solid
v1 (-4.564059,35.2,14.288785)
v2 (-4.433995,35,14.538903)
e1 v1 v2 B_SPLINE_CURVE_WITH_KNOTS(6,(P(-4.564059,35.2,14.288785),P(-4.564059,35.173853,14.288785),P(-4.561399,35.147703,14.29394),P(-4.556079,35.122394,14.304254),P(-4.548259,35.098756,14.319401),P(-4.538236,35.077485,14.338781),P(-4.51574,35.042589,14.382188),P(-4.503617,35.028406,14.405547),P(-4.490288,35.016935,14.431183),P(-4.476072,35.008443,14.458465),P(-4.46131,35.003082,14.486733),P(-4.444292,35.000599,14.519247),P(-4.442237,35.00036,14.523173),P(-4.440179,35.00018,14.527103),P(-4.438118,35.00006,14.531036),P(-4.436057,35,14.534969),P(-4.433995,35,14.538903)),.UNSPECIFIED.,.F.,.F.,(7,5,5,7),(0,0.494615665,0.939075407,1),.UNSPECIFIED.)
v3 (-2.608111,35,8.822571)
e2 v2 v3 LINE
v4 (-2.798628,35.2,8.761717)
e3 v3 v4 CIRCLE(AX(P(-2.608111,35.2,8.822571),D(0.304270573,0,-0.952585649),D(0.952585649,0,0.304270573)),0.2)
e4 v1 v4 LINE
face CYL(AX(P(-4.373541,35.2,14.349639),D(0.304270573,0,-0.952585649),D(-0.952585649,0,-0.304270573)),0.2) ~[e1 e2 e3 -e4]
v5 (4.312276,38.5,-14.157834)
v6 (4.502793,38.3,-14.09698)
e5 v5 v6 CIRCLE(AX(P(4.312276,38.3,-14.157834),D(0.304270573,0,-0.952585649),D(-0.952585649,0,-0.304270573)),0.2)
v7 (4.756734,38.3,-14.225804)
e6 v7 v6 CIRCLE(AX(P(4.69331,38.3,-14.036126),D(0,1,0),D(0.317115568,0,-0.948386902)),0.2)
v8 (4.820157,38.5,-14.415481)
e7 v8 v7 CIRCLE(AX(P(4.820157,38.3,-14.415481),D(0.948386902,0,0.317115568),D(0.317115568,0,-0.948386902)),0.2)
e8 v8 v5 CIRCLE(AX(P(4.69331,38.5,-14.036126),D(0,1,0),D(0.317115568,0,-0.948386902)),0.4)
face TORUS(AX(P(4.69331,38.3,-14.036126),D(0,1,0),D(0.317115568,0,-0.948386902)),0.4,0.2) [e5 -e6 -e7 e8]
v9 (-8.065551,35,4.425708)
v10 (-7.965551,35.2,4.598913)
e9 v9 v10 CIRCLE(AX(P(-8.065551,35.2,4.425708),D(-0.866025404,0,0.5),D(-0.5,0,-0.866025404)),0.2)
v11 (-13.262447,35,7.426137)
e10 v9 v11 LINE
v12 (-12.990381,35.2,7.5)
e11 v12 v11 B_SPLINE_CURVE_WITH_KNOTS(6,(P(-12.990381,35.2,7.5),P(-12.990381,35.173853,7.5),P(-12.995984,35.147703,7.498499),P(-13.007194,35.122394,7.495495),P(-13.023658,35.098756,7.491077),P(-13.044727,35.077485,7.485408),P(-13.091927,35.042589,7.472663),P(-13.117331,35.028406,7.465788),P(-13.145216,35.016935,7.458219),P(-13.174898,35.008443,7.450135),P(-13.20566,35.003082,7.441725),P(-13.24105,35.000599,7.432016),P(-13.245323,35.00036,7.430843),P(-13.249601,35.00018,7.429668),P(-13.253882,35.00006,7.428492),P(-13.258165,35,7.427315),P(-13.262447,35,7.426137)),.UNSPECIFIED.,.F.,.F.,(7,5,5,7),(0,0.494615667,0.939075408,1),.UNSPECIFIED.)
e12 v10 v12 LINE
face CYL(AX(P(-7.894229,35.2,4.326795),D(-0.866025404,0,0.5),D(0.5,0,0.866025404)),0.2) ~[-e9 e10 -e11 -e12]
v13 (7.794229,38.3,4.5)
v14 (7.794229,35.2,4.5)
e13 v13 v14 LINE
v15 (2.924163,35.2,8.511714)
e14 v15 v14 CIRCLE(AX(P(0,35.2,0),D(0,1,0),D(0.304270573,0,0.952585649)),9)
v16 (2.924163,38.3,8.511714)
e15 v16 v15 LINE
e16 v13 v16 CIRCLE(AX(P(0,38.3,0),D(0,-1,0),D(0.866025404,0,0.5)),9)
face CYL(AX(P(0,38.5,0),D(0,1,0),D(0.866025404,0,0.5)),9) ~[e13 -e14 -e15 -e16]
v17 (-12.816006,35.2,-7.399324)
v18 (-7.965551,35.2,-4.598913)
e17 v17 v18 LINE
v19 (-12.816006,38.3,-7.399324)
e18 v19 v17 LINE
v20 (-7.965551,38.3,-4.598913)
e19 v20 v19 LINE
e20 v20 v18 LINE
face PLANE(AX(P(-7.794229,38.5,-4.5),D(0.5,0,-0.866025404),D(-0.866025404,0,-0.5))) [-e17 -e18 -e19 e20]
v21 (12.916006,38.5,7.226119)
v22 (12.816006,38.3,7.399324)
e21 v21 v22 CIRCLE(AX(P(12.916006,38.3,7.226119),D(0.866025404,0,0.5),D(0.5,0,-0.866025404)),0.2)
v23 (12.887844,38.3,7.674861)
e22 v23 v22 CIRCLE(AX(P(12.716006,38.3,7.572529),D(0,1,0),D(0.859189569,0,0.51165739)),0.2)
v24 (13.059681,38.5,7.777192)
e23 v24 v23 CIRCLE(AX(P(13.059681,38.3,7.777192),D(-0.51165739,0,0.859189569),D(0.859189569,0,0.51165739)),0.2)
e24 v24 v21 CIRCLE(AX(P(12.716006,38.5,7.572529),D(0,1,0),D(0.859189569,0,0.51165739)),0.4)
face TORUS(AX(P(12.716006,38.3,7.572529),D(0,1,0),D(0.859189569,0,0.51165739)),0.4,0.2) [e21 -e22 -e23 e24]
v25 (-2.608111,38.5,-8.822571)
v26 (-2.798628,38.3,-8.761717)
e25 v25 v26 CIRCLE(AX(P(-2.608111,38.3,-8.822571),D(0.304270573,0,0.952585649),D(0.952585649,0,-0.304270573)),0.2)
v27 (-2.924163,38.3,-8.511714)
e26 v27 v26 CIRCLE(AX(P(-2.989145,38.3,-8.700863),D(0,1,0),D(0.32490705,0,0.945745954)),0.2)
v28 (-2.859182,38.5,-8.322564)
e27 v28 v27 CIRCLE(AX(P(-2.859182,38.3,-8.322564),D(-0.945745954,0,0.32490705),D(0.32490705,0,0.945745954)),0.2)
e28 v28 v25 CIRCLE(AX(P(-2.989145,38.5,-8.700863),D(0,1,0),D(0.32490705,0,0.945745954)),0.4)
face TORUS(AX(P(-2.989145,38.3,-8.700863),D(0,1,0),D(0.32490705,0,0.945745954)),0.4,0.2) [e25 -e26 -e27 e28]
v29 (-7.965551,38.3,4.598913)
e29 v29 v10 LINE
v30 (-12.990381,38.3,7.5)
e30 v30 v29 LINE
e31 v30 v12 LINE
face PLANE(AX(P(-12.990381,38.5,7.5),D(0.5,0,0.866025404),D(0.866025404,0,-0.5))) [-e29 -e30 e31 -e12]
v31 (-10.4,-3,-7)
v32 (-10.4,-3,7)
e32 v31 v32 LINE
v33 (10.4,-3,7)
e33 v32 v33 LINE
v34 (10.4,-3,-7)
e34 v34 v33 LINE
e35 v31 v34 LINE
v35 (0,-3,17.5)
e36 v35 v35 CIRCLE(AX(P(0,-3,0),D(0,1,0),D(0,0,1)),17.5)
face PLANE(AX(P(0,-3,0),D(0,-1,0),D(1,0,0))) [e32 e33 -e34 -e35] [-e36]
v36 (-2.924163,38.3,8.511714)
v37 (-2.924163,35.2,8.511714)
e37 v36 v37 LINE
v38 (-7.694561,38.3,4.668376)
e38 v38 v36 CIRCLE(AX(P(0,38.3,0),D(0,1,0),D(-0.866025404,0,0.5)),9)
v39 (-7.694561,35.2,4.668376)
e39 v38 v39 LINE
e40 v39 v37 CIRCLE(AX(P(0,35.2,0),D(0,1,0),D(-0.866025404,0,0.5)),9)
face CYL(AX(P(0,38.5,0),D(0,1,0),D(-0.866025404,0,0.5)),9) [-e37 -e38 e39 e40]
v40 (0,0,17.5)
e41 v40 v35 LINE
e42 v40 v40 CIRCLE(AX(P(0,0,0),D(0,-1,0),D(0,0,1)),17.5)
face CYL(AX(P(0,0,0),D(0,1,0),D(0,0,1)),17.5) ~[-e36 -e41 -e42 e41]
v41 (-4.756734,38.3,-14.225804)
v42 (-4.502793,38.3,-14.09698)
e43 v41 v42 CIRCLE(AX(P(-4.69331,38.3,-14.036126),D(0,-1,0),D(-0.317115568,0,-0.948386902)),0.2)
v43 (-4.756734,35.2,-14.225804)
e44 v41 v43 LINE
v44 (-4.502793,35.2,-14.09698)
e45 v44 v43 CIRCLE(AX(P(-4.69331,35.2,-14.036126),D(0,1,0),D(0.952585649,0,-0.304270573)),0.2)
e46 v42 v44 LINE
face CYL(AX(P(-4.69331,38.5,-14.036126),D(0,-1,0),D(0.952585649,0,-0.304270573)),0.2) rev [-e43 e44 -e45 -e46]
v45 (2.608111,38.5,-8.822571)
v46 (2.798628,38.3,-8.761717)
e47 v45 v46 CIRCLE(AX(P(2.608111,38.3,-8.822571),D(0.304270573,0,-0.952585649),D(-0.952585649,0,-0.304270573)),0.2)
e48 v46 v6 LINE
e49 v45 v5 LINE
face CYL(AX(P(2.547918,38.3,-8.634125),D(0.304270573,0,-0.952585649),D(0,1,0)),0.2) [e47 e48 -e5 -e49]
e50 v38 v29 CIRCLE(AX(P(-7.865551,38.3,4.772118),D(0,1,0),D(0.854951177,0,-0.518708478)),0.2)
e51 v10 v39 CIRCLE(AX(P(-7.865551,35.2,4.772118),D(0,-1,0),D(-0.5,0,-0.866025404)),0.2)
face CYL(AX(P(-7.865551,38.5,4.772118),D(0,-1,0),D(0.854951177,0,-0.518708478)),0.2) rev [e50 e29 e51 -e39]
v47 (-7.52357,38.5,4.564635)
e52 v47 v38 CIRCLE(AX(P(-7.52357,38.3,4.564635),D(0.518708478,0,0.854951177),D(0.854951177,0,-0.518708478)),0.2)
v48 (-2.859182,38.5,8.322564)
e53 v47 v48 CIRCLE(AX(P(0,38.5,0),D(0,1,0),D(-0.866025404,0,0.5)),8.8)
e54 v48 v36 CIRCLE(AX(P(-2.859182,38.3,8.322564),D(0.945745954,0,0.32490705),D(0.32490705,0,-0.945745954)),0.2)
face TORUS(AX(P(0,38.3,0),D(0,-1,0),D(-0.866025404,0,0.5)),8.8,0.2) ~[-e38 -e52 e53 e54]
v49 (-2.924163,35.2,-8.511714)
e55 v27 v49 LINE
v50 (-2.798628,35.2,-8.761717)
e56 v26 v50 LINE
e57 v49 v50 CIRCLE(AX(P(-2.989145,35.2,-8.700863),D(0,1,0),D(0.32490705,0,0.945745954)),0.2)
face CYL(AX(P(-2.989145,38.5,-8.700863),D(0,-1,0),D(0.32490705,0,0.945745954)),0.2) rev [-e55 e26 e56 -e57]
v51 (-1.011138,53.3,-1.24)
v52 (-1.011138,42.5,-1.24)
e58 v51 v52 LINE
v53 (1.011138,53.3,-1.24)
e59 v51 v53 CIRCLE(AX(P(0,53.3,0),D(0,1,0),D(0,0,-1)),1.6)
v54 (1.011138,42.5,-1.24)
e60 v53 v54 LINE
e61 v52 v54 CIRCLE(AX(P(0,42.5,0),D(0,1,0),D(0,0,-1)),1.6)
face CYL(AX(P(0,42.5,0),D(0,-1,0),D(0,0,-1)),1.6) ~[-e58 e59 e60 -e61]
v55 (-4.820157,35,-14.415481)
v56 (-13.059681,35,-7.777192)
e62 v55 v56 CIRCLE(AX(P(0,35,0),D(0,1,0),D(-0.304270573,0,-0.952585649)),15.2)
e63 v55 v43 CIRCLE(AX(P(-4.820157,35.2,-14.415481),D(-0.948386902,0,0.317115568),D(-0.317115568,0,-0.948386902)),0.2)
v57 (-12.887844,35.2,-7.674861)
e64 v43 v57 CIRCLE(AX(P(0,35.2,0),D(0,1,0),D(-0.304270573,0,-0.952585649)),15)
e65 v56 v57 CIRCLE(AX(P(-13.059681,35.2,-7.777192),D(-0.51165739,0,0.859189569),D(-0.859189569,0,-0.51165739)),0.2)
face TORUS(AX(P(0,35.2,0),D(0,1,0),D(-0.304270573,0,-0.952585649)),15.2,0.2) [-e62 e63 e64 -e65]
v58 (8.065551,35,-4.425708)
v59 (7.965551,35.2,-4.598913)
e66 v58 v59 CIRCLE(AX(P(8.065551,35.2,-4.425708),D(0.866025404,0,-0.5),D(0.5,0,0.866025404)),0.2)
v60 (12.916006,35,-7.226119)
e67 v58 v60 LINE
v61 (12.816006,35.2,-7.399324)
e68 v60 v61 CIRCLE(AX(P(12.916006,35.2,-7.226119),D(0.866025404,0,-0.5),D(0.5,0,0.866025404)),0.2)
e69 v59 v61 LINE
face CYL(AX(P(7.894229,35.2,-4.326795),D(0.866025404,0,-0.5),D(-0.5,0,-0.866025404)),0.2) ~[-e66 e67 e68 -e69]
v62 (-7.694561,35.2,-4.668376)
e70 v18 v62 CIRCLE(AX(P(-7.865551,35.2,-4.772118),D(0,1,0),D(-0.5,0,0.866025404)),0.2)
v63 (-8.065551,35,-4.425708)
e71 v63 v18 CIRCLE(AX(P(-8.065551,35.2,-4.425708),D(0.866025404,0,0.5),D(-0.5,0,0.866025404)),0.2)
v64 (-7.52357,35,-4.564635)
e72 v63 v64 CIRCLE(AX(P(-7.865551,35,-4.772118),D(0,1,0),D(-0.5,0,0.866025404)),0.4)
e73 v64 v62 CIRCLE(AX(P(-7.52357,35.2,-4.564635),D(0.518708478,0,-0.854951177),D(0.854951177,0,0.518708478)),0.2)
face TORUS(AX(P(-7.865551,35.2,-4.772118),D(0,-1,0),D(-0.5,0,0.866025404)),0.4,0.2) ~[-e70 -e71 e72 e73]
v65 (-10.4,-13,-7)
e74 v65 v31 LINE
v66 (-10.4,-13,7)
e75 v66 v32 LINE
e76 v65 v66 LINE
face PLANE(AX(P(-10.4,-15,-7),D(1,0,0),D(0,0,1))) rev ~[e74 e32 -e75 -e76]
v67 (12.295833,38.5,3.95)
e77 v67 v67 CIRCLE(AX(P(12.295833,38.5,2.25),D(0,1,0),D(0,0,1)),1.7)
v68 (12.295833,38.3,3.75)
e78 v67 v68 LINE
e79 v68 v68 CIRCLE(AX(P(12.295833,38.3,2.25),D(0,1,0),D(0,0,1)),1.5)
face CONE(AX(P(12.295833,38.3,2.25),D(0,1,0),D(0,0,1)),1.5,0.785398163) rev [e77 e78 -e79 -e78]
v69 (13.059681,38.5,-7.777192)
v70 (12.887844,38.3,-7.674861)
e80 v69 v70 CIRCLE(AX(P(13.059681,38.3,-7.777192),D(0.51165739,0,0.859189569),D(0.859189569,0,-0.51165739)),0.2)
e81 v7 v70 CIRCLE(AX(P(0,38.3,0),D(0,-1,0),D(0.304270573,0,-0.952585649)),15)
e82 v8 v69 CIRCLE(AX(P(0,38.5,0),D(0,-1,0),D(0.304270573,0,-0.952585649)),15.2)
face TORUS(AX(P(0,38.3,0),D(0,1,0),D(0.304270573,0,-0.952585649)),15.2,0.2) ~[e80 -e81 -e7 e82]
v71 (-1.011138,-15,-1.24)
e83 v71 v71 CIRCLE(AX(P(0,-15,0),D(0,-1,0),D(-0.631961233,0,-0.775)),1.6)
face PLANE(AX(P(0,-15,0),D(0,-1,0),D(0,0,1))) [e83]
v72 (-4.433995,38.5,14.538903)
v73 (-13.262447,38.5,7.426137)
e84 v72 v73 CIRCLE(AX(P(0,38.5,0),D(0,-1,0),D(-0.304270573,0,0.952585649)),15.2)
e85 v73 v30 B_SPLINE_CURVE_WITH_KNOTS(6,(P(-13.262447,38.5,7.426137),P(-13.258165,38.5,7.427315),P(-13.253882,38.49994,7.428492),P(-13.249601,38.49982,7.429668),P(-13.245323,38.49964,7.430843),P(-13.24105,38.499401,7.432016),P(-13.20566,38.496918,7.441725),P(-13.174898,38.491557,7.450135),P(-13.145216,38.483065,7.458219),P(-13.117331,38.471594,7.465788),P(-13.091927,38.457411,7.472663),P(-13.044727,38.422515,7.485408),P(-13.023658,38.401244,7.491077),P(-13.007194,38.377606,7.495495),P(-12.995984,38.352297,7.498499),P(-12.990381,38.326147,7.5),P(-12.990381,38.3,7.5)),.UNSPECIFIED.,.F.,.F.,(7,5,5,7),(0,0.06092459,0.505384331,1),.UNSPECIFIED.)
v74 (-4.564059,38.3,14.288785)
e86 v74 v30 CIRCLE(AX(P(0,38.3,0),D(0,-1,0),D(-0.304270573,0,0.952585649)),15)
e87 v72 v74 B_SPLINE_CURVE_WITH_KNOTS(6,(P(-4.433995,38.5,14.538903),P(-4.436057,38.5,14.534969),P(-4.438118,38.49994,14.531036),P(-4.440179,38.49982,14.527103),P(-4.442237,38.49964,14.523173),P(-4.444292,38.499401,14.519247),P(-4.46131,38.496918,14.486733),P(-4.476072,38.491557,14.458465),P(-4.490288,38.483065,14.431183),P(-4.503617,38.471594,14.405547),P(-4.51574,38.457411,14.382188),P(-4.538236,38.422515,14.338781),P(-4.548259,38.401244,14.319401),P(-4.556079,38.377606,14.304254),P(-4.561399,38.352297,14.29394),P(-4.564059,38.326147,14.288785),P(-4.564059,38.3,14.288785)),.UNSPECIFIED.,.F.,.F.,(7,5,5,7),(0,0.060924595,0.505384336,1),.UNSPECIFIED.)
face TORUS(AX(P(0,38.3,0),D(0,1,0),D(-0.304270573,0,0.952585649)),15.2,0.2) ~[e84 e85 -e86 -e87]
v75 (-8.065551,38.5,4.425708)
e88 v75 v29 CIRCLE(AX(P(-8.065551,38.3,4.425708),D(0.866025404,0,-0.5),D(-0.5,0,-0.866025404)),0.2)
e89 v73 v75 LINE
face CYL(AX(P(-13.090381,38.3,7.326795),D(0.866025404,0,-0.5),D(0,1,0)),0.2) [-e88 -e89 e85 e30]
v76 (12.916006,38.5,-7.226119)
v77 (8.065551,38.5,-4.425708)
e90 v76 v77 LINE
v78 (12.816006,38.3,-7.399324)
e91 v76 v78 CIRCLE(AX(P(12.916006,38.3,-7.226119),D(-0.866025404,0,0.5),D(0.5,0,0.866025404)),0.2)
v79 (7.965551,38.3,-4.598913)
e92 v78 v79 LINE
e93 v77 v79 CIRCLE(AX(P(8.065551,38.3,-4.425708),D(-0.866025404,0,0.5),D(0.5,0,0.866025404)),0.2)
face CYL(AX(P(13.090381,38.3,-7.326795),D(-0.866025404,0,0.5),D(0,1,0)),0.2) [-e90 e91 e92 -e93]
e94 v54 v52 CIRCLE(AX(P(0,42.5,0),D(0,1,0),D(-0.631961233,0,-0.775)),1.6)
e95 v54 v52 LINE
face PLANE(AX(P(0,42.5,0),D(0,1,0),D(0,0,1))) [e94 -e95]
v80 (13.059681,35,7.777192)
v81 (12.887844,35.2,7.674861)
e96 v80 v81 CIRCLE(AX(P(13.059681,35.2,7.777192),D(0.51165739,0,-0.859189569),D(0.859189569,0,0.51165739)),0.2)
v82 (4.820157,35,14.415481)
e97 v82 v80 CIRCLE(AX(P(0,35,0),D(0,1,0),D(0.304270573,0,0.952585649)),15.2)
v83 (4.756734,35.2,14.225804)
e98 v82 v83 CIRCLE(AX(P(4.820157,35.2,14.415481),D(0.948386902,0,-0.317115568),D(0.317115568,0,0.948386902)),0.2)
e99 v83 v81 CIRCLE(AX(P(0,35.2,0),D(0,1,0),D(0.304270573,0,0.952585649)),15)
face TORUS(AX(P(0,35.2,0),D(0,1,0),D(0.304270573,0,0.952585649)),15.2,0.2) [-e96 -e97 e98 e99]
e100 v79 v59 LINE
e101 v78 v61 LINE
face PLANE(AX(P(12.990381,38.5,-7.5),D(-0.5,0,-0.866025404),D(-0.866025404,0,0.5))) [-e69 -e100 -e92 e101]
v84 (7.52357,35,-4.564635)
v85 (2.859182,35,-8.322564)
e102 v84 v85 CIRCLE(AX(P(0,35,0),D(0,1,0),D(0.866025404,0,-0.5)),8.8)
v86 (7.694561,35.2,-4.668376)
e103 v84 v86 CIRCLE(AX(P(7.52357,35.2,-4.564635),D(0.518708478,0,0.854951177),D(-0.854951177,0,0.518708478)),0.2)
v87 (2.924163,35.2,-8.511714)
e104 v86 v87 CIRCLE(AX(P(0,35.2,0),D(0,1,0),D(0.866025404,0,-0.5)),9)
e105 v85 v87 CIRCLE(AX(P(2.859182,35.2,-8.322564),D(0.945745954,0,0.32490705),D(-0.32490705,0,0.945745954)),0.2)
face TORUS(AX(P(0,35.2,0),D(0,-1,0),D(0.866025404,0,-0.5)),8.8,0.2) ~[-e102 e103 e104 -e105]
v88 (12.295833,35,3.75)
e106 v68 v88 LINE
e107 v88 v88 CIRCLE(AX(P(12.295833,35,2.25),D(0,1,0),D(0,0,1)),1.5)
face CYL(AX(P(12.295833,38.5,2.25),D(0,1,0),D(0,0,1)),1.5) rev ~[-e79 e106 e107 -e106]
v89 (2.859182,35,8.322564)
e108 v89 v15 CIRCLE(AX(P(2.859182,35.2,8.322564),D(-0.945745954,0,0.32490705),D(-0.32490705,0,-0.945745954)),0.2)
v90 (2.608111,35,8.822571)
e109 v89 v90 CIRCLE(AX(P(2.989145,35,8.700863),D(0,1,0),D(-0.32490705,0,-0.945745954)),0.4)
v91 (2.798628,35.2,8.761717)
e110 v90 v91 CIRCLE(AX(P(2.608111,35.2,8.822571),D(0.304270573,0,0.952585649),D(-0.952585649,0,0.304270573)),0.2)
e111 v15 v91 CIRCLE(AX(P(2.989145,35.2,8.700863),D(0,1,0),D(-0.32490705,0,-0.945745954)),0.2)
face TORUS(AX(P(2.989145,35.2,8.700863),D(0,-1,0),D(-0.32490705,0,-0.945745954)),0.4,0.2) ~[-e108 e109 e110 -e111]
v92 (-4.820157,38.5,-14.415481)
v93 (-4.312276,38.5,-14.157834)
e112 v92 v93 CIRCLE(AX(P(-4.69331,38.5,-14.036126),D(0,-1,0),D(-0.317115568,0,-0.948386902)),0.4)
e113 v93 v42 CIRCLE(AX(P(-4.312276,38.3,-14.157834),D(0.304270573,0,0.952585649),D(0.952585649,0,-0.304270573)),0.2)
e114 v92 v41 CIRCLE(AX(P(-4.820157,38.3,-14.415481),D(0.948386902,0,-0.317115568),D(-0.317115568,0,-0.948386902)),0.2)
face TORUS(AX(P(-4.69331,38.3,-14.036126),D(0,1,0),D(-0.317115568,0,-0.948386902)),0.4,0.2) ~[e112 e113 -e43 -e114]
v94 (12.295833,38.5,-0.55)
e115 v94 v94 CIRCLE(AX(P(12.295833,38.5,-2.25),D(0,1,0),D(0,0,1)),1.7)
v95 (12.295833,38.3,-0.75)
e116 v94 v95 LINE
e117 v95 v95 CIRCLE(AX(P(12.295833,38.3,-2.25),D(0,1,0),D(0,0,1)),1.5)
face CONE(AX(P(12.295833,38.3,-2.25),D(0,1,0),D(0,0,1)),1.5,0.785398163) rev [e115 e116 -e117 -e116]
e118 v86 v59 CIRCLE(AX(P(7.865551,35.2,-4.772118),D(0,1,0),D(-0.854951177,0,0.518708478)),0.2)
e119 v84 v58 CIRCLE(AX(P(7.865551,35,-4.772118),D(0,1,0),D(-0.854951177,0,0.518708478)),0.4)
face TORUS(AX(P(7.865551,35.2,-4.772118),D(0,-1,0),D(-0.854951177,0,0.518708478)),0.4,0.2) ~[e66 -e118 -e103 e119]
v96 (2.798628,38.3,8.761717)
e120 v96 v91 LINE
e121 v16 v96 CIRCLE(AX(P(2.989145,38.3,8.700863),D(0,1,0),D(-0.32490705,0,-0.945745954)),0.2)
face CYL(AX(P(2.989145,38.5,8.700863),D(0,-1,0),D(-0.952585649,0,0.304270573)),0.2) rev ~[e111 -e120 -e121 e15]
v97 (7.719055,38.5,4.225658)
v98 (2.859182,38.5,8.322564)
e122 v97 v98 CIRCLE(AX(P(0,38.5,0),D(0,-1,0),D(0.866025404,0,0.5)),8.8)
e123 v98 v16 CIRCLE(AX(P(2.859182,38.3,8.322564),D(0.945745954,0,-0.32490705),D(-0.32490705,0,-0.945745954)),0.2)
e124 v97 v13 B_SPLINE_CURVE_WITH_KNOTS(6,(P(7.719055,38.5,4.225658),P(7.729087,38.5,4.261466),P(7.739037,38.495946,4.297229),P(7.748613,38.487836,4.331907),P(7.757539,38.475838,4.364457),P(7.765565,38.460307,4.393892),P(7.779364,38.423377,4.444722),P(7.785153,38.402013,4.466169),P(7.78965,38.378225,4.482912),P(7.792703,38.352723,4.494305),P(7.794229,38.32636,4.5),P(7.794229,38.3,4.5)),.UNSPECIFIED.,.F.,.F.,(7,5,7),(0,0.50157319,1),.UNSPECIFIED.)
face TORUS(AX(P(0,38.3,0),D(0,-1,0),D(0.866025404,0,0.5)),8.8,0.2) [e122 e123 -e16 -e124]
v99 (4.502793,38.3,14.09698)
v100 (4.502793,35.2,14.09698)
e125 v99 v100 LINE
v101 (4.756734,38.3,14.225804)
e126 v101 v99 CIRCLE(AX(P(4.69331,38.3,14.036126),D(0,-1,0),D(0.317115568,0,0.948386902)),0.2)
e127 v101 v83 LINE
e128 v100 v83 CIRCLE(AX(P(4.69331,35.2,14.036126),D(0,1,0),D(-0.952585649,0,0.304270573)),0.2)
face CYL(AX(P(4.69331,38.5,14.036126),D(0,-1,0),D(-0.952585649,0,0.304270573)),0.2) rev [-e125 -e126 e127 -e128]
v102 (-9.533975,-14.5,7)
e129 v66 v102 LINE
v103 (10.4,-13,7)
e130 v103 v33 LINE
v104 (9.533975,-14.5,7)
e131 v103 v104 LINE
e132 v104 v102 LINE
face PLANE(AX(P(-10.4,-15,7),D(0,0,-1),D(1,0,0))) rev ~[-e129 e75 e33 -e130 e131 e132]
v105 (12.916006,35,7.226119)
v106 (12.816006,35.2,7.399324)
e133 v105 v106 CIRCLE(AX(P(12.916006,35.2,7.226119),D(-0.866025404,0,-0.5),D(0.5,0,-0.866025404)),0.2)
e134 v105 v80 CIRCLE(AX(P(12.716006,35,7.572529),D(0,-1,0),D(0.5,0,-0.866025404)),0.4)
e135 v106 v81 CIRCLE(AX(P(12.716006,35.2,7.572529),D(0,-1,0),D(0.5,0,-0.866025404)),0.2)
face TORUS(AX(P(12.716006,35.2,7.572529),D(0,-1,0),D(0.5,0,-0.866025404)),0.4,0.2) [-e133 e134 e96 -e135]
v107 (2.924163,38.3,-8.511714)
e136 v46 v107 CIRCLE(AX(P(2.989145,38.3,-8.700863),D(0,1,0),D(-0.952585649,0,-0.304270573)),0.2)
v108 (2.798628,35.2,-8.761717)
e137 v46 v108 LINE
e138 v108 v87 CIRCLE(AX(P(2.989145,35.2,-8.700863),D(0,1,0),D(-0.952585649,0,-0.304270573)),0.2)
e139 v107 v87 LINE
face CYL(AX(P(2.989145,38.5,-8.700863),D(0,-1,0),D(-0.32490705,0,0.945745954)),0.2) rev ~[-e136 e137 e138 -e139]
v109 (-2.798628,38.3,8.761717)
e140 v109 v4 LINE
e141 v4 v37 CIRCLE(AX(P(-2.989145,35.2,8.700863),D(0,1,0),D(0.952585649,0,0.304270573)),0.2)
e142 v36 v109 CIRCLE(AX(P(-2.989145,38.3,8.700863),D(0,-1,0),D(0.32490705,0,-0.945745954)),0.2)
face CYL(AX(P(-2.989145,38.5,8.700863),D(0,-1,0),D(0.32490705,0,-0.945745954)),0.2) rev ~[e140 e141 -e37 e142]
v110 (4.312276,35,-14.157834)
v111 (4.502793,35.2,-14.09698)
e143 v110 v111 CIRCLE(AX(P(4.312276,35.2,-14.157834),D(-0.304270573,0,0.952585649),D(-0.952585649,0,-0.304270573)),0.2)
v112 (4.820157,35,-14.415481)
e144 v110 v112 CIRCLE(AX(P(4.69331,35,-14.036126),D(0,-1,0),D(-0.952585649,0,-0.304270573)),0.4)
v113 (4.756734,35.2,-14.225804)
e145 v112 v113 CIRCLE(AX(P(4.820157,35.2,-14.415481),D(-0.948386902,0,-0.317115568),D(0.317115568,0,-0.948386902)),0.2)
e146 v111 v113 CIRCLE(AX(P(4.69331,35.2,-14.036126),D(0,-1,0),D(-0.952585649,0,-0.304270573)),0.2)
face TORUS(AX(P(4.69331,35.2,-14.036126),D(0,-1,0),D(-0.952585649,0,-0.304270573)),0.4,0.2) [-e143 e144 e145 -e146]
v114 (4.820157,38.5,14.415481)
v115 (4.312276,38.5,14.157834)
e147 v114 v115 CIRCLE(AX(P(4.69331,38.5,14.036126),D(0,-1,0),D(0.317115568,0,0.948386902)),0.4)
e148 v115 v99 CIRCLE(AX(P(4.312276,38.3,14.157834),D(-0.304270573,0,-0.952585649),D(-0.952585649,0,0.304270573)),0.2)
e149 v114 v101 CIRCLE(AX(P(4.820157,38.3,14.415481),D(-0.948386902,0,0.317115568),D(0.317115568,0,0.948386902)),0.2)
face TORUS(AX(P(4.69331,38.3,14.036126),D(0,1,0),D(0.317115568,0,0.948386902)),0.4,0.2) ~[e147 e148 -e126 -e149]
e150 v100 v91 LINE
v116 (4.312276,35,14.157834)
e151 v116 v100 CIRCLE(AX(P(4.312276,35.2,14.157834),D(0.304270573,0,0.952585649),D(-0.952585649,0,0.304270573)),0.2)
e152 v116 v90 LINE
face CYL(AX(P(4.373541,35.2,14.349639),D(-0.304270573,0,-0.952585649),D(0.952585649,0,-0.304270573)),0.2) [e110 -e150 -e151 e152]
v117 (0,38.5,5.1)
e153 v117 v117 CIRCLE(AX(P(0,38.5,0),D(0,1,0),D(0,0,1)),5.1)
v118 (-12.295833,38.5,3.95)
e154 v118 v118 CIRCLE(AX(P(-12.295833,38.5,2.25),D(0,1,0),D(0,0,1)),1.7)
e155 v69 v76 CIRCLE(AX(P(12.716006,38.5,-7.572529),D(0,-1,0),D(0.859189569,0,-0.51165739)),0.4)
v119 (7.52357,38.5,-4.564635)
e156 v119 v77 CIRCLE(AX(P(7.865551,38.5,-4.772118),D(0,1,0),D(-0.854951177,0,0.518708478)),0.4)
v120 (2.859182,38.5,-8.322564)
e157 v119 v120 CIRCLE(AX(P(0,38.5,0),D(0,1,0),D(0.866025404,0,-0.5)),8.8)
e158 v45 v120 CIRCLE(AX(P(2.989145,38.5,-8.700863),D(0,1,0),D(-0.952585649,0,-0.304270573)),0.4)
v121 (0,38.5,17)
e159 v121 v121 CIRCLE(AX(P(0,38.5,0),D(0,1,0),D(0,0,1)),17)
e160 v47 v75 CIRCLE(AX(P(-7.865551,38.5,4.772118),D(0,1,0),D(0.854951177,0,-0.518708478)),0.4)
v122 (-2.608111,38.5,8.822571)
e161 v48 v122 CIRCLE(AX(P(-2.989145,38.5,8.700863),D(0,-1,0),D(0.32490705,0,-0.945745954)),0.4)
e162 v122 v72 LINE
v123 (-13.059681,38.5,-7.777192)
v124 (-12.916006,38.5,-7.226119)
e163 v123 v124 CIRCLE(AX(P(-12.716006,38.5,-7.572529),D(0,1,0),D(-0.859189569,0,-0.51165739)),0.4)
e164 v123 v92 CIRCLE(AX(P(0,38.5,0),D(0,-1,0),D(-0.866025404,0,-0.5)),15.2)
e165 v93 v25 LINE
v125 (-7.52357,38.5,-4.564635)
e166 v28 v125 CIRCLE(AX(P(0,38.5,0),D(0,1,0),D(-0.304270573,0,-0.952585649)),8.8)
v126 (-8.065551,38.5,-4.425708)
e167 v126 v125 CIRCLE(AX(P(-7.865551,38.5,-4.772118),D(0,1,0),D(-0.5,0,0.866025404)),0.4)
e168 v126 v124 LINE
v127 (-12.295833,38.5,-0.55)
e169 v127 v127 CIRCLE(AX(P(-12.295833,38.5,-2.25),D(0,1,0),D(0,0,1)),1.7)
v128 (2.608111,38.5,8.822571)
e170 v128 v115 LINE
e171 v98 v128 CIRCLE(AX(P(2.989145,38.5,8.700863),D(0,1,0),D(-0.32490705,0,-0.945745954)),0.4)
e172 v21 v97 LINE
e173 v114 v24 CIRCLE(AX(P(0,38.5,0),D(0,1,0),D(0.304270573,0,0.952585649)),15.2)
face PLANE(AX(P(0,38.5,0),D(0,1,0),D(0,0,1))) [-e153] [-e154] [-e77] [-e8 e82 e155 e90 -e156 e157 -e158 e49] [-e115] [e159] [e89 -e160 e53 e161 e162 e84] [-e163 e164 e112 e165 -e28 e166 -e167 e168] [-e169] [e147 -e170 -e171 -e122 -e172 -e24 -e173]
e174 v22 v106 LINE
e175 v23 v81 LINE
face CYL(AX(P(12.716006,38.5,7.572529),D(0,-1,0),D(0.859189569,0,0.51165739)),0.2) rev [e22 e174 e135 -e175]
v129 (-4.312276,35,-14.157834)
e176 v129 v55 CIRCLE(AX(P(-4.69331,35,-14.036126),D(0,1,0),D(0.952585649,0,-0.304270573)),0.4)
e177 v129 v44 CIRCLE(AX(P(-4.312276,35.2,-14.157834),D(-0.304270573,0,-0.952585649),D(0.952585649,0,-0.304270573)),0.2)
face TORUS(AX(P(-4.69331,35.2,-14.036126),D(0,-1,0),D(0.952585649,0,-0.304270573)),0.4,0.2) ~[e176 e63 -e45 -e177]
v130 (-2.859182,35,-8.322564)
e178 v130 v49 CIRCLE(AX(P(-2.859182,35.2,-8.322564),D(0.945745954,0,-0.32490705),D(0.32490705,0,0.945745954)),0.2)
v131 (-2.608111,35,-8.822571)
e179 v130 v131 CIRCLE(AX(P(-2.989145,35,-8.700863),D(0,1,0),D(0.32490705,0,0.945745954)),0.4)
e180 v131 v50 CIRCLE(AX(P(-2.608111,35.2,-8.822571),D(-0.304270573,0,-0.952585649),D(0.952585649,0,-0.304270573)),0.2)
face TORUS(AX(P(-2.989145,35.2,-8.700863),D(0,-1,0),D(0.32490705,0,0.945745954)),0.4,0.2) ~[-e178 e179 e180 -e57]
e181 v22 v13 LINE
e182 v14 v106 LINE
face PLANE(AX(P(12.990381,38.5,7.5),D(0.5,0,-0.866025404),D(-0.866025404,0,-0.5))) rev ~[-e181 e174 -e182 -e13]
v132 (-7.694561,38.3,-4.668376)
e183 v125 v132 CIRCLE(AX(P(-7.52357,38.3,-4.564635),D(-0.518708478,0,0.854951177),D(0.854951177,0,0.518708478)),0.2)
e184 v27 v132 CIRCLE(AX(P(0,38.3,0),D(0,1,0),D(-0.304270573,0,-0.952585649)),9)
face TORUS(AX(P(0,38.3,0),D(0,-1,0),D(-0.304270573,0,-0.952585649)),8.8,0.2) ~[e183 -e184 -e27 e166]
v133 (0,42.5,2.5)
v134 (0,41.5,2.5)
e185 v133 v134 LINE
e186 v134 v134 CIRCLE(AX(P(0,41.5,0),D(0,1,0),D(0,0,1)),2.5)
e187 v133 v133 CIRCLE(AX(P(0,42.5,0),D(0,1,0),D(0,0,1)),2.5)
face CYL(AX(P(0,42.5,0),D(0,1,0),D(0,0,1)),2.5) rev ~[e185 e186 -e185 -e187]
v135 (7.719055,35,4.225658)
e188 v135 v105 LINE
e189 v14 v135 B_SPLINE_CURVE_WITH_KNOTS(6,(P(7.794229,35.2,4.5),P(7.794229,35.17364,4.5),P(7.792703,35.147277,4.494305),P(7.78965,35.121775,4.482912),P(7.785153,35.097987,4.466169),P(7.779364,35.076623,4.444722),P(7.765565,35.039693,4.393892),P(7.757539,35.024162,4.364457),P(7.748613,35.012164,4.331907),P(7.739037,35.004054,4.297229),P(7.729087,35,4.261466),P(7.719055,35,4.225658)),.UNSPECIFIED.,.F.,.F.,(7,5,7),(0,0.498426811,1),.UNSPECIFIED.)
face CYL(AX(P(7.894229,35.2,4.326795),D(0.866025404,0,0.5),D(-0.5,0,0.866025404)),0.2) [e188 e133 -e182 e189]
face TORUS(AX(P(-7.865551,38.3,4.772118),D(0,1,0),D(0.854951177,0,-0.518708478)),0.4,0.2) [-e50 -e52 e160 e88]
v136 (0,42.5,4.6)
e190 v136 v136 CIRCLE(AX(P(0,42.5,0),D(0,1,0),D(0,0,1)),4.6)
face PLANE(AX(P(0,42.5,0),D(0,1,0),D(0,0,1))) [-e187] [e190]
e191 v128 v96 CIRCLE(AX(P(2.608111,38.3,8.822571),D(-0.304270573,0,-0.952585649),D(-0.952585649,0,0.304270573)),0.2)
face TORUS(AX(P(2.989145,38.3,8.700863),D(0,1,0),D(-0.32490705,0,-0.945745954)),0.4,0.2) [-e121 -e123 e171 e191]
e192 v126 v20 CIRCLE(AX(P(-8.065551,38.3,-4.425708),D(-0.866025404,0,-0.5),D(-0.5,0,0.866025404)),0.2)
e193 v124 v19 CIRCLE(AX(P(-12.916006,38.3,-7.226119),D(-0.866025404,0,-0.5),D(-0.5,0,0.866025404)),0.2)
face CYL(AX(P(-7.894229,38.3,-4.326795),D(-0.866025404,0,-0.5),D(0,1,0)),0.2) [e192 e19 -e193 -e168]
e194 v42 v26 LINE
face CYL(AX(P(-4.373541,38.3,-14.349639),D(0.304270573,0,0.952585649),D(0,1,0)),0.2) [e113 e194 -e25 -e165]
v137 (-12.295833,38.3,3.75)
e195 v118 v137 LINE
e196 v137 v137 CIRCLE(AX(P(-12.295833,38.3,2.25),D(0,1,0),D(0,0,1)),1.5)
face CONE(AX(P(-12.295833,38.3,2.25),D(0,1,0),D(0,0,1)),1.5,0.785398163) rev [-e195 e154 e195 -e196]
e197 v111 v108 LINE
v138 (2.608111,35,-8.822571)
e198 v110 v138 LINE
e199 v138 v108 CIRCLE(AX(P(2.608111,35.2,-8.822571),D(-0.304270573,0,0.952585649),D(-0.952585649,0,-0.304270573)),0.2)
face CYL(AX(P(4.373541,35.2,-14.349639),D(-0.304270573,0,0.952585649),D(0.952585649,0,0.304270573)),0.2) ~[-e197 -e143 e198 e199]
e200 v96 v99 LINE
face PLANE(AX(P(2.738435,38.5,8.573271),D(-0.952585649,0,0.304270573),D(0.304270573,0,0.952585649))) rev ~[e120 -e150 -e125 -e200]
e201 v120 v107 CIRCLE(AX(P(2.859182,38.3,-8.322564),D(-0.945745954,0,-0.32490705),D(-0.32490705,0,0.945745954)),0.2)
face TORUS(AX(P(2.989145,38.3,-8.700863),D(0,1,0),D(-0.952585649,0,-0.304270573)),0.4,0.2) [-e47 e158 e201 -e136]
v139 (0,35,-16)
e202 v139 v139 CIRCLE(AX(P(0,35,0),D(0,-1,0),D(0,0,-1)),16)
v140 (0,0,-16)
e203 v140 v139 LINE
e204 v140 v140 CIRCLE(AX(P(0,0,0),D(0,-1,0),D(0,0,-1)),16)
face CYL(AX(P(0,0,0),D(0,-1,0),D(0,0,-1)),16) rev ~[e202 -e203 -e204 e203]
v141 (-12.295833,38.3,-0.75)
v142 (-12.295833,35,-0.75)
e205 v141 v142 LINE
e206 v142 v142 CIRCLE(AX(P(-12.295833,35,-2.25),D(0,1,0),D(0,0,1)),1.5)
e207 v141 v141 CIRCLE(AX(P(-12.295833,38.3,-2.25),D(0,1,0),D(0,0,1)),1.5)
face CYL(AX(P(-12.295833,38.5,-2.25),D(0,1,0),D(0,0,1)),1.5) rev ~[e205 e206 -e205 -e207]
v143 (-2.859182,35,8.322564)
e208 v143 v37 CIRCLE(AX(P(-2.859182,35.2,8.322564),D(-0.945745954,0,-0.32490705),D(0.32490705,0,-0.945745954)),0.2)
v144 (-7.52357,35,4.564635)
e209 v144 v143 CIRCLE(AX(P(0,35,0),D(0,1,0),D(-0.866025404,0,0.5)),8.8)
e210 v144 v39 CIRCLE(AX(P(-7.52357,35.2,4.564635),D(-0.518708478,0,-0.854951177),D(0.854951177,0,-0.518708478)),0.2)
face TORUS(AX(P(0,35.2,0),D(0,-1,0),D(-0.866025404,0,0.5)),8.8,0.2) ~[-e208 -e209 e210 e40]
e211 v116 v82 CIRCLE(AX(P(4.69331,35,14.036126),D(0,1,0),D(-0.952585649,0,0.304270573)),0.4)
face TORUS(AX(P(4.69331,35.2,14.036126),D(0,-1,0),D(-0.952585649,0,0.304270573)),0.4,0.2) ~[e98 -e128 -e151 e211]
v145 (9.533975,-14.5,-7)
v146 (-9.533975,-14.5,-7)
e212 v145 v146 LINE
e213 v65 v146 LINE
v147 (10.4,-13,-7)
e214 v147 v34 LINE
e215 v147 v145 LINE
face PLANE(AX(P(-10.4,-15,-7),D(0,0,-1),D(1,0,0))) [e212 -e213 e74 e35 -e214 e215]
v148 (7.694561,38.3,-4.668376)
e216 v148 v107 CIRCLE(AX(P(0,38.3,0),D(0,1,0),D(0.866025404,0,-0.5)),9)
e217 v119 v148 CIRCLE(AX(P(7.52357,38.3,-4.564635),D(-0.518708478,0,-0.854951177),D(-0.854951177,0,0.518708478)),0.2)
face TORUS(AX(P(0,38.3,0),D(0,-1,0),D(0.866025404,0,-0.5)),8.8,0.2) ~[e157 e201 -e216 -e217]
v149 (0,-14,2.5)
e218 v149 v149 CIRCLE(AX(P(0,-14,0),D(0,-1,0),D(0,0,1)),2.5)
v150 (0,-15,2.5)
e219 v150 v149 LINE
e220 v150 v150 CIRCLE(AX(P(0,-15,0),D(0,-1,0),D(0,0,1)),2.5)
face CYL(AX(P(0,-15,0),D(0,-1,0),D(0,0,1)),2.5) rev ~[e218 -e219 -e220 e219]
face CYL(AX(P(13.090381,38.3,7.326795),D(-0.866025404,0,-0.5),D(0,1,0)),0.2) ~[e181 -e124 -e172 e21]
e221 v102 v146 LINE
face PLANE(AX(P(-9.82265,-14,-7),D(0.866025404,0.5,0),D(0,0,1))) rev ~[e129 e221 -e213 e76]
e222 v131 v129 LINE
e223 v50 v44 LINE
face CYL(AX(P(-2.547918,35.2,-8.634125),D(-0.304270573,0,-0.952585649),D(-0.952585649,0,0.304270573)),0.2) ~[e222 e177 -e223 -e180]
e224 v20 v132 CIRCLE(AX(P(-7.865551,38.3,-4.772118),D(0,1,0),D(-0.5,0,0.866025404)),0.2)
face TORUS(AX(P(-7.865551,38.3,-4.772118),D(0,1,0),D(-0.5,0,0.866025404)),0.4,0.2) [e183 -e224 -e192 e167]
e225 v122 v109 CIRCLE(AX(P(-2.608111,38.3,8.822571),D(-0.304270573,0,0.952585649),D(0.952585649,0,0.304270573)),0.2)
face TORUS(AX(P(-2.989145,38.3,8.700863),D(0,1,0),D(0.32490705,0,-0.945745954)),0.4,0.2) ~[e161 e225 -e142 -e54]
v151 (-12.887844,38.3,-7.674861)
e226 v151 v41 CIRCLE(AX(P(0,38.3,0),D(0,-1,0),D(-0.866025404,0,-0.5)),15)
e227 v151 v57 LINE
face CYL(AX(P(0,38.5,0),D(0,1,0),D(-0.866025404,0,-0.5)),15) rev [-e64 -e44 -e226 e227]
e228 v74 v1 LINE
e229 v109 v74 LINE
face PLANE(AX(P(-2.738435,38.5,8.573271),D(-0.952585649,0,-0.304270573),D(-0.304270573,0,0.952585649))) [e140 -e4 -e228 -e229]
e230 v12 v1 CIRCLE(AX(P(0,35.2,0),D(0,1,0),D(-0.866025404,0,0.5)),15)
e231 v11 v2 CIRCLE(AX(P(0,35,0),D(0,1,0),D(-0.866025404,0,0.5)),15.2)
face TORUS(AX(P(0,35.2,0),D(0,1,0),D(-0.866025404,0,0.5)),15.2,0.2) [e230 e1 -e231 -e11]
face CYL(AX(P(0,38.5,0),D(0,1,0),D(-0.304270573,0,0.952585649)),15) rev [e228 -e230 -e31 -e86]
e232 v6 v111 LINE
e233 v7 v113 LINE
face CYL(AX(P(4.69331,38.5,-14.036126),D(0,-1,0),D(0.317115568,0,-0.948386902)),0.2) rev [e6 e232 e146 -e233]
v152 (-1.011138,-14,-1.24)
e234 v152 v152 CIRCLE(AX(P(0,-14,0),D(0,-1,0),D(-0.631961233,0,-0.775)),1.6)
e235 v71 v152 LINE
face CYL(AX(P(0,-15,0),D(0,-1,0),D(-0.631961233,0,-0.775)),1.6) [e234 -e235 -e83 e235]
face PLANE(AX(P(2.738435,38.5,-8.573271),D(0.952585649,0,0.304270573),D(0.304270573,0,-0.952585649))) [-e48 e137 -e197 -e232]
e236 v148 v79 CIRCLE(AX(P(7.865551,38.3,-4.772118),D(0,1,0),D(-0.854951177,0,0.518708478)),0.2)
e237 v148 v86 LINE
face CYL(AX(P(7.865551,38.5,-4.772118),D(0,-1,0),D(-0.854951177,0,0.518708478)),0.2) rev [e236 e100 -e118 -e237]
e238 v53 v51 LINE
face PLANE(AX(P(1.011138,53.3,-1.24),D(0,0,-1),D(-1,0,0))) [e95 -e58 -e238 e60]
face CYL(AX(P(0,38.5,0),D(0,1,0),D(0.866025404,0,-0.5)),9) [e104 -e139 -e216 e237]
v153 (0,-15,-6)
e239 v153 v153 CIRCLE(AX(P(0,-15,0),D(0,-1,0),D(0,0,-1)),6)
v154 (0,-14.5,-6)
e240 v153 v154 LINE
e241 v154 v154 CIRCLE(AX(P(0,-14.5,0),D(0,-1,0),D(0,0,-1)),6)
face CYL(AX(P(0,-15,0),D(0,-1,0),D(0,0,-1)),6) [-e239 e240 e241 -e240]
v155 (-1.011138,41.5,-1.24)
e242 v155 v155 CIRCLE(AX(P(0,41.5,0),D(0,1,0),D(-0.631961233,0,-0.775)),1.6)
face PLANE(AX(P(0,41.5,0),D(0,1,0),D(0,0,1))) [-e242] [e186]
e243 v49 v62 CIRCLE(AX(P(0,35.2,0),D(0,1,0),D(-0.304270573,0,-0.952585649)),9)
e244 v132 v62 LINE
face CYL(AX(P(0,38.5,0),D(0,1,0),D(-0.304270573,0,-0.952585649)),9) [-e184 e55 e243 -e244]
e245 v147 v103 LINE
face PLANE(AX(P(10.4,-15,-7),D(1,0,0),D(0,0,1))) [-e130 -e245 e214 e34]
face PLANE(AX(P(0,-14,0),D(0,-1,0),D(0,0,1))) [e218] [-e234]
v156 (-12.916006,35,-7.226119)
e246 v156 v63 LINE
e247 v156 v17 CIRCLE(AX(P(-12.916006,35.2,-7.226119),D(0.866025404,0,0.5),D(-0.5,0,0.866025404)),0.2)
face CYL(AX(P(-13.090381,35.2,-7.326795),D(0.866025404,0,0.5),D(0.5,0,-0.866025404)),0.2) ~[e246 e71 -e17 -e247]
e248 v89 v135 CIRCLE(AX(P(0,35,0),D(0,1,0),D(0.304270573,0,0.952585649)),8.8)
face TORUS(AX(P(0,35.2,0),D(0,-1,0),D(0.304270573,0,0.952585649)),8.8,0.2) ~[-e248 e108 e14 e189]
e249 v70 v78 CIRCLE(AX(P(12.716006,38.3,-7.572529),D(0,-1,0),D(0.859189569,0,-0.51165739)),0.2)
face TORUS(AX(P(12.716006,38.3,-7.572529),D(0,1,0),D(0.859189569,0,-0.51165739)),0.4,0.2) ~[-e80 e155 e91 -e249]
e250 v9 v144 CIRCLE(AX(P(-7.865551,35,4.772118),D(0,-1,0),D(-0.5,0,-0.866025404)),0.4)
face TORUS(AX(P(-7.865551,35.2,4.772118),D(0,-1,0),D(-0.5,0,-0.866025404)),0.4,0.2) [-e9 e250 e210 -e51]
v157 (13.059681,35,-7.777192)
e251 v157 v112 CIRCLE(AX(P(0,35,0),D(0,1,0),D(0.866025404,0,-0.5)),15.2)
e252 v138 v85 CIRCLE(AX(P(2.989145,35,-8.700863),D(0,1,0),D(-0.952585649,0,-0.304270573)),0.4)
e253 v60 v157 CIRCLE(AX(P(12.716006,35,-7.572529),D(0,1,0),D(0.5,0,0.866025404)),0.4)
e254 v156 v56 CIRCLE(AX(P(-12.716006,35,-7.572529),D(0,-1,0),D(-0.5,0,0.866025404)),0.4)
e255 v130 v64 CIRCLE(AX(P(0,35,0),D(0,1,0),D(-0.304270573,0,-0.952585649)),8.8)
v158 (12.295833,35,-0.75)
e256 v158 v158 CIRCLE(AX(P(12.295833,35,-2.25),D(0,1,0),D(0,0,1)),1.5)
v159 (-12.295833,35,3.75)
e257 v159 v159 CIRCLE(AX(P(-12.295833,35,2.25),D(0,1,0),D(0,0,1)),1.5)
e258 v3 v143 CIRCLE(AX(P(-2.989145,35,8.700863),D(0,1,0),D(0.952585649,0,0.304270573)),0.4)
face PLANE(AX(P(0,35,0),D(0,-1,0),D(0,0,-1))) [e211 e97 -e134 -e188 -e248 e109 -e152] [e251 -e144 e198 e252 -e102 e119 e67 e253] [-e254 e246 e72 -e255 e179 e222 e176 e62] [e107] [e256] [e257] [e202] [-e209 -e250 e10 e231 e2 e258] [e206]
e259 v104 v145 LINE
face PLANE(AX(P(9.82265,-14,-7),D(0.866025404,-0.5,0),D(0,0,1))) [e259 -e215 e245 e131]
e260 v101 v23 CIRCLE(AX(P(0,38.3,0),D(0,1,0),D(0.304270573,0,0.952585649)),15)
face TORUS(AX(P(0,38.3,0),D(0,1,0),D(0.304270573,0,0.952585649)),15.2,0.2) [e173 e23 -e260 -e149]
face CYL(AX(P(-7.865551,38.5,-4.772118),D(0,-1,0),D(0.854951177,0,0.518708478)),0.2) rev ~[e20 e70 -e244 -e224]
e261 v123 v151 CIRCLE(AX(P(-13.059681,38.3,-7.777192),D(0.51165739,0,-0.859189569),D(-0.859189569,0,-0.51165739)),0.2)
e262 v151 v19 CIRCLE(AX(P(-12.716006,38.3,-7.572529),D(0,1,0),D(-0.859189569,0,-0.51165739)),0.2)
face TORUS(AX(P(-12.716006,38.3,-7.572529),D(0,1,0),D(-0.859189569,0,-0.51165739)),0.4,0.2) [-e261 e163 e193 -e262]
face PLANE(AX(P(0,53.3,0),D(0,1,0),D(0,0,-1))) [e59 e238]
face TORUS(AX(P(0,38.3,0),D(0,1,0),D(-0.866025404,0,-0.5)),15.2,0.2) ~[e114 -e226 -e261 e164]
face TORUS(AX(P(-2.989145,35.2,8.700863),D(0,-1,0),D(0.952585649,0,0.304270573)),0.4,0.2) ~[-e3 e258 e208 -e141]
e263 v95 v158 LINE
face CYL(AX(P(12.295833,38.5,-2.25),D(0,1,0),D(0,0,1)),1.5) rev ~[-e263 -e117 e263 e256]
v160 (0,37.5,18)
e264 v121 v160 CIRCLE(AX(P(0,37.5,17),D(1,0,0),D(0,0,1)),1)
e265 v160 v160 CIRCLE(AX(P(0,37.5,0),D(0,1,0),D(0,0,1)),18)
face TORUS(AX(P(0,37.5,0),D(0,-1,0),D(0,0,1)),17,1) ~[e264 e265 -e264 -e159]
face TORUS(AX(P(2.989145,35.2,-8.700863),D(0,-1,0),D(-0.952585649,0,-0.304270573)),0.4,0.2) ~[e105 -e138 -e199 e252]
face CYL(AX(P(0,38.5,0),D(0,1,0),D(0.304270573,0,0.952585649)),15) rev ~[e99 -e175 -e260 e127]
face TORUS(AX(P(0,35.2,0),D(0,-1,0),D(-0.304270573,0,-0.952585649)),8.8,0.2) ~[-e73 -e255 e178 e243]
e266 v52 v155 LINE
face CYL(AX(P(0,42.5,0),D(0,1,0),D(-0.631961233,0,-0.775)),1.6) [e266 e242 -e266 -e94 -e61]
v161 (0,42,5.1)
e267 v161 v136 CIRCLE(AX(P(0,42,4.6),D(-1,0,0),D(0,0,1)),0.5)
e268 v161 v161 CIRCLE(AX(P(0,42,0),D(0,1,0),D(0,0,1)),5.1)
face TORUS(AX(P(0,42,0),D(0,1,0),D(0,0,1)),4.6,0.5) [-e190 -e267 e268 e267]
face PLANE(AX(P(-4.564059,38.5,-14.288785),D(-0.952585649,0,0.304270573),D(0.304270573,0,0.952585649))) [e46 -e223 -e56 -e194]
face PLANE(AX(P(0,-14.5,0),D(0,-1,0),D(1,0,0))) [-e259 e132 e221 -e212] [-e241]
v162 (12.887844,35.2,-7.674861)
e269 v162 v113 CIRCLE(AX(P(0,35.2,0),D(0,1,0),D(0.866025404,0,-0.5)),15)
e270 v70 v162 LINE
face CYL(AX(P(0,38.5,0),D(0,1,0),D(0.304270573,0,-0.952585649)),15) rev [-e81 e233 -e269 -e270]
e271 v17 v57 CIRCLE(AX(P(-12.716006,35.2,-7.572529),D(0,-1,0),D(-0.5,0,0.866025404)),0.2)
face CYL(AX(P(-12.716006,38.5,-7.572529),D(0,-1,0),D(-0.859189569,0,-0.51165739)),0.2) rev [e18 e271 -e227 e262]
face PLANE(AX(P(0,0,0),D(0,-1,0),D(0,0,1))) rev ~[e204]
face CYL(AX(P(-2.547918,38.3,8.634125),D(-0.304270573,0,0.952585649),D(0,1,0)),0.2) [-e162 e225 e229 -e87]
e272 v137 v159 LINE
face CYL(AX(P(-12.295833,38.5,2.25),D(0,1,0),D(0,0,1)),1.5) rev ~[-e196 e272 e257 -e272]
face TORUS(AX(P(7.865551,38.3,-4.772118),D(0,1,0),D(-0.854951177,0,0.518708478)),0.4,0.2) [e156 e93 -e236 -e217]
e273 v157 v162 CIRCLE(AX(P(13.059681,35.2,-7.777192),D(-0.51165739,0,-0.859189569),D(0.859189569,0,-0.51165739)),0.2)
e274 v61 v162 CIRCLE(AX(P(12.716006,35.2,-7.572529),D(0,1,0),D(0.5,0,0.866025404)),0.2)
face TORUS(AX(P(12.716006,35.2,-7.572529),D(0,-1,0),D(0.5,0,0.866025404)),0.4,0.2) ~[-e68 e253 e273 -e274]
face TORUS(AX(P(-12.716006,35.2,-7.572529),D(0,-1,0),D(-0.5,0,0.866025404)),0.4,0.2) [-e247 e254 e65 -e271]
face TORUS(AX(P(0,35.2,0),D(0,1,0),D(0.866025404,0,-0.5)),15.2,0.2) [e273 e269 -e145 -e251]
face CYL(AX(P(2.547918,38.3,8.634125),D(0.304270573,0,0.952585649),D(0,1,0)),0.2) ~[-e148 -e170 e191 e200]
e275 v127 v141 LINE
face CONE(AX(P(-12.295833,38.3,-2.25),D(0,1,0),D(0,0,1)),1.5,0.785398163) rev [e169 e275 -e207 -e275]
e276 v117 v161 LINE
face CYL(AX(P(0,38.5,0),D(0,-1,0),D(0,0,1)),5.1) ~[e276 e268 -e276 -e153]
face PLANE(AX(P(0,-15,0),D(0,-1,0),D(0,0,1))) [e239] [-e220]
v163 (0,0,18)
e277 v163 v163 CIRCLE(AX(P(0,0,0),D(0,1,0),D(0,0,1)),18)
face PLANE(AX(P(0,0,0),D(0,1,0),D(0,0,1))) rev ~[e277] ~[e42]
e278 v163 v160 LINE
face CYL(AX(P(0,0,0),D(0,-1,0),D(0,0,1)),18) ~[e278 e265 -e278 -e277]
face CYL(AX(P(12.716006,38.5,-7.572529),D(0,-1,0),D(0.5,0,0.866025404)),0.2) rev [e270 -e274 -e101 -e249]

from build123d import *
from OCP.BRepFilletAPI import BRepFilletAPI_MakeChamfer

# Parameters (mm, degrees)
SKETCH1_R            = 18
EXTRUDE1_DEPTH       = 38.5
SKETCH2_R            = 5.1
EXTRUDE2_DEPTH       = 4
SKETCH3_R            = 1.6
EXTRUDE3_DEPTH       = 10.8
EXTRUDE4_DEPTH       = 10.8
SKETCH5_R            = 16
EXTRUDE5_DEPTH       = 35
SKETCH6_R            = 1.5
EXTRUDE6_DEPTH       = 35
EXTRUDE7_DEPTH       = 35
FILLET1_R            = 0.2
CHAMFER1_SIZE        = 0.2
FILLET2_R            = 0.5
SKETCH8_R            = 2.5
SKETCH8_R_2          = 1.6
EXTRUDE8_DEPTH       = 1
FILLET3_R            = 1
SKETCH9_R            = 17.5
EXTRUDE11_DEPTH      = 15
SKETCH10_OUTSIDE_W   = 55.038
SKETCH10_OUTSIDE_H   = 55.038
SKETCH10_OUTSIDE_W_2 = 52.783701282
SKETCH10_OUTSIDE_H_2 = 14
EXTRUDE12_DEPTH      = 12
SKETCH11_OUTSIDE_W   = 55.038
SKETCH11_OUTSIDE_H   = 55.038
SKETCH11_OUTSIDE_W_2 = 20.8
SKETCH11_OUTSIDE_H_2 = 14
EXTRUDE13_DEPTH      = 12
CHAMFER2_SIZE        = 2
CHAMFER2_SIZE2       = 1.154700538
SKETCH12_OUTSIDE_W   = 55.038
SKETCH12_OUTSIDE_H   = 55.038
SKETCH12_OUTSIDE_R   = 6
EXTRUDE15_DEPTH      = 0.5
SKETCH13_R           = 2.5
SKETCH13_R_2         = 1.6
EXTRUDE16_DEPTH      = 1


with BuildPart() as part:
    # Sketch1 → Extrude1 (new body)
    with BuildSketch(Plane(origin=(0, 0, 0), x_dir=(1, 0, 0), z_dir=(0, 1, 0))):
        with Locations(Location((0, 0, 0), (0, 0, 270))):
            Circle(SKETCH1_R)
    extrude(amount=EXTRUDE1_DEPTH)

    # Sketch2 → Extrude2 (add)
    with BuildSketch(Plane(origin=(0, 38.5, 0), x_dir=(1, 0, 0), z_dir=(0, 1, 0))):
        with Locations(Location((0, 0, 0), (0, 0, 270))):
            Circle(SKETCH2_R)
    extrude(amount=EXTRUDE2_DEPTH)

    # Sketch3 → Extrude3 (add)
    with BuildSketch(Plane(origin=(0, 42.5, 0), x_dir=(1, 0, 0), z_dir=(0, 1, 0))):
        with Locations(Location((0, 0, 0), (0, 0, 90))):
            Circle(SKETCH3_R)
    extrude(amount=EXTRUDE3_DEPTH)

    # Sketch4 → Extrude4 (cut)
    with BuildSketch(Plane(origin=(0, 53.3, 0), x_dir=(1, 0, 0), z_dir=(0, 1, 0))):
        with BuildLine():
            Line((1.011137973, 1.24), (-1.011137973, 1.24))
            ThreePointArc((-1.011137973, 1.24), (0, 1.6), (1.011137973, 1.24))
        make_face()
    extrude(amount=-EXTRUDE4_DEPTH, mode=Mode.SUBTRACT)

    # Sketch5 → Extrude5 (cut)
    with BuildSketch(Plane.XZ):
        with Locations(Location((0, 0, 0), (0, 0, 270))):
            Circle(SKETCH5_R)
    extrude(amount=-EXTRUDE5_DEPTH, mode=Mode.SUBTRACT)

    # Sketch6 → Extrude6 (cut)
    with BuildSketch(Plane(origin=(0, 38.5, 0), x_dir=(-1, 0, 0), z_dir=(0, 1, 0))):
        with Locations(Location((12.295832627, -2.25, 0), (0, 0, 90))):
            Circle(SKETCH6_R)
        with Locations(Location((12.295832627, 2.25, 0), (0, 0, 90))):
            Circle(SKETCH6_R)
        with Locations(Location((-12.295832627, -2.25, 0), (0, 0, 90))):
            Circle(SKETCH6_R)
        with Locations(Location((-12.295832627, 2.25, 0), (0, 0, 90))):
            Circle(SKETCH6_R)
    extrude(amount=-EXTRUDE6_DEPTH, mode=Mode.SUBTRACT)

    # Sketch7 → Extrude7 (cut)
    with BuildSketch(Plane(origin=(0, 38.5, 0), x_dir=(1, 0, 0), z_dir=(0, 1, 0))):
        with BuildLine():
            Line((-7.794228634, 4.5), (-12.990381057, 7.5))
            ThreePointArc((-12.990381057, 7.5), (-9.41071131, 11.680689733), (-4.56405859, 14.288784735))
            Line((-4.56405859, 14.288784735), (-2.738435154, 8.573270841))
            ThreePointArc((-2.738435154, 8.573270841), (-5.646426786, 7.00841384), (-7.794228634, 4.5))
        make_face()
        with BuildLine():
            Line((2.738435154, 8.573270841), (4.56405859, 14.288784735))
            ThreePointArc((4.56405859, 14.288784735), (9.41071131, 11.680689733), (12.990381057, 7.5))
            Line((12.990381057, 7.5), (7.794228634, 4.5))
            ThreePointArc((7.794228634, 4.5), (5.646426786, 7.00841384), (2.738435154, 8.573270841))
        make_face()
        with BuildLine():
            Line((-2.738435154, -8.573270841), (-4.56405859, -14.288784735))
            ThreePointArc((-4.56405859, -14.288784735), (-9.41071131, -11.680689733), (-12.990381057, -7.5))
            Line((-12.990381057, -7.5), (-7.794228634, -4.5))
            ThreePointArc((-7.794228634, -4.5), (-5.646426786, -7.00841384), (-2.738435154, -8.573270841))
        make_face()
        with BuildLine():
            Line((2.738435154, -8.573270841), (4.56405859, -14.288784735))
            ThreePointArc((4.56405859, -14.288784735), (9.41071131, -11.680689733), (12.990381057, -7.5))
            Line((12.990381057, -7.5), (7.794228634, -4.5))
            ThreePointArc((7.794228634, -4.5), (5.646426786, -7.00841384), (2.738435154, -8.573270841))
        make_face()
    extrude(amount=-EXTRUDE7_DEPTH, mode=Mode.SUBTRACT)

    # Fillet1
    fillet1_edges = [part.edges().sort_by_distance(p)[0] for p in [
        (12.990381057, 36.75, 7.5),
        (4.56405859, 36.75, 14.288784735),
        (2.738435154, 36.75, 8.573270841),
        (9.41071131, 38.5, 11.680689733),
        (10.392304845, 38.5, 6),
        (5.646426786, 38.5, 7.00841384),
        (3.651246872, 38.5, 11.431027788),
        (3.651246872, 35, -11.431027788),
        (5.646426786, 35, -7.00841384),
        (10.392304845, 35, -6),
        (9.41071131, 35, -11.680689733),
        (4.56405859, 36.75, -14.288784735),
        (12.990381057, 36.75, -7.5),
        (7.794228634, 36.75, -4.5),
        (2.738435154, 36.75, -8.573270841),
        (9.41071131, 38.5, -11.680689733),
        (3.651246872, 38.5, -11.431027788),
        (5.646426786, 38.5, -7.00841384),
        (10.392304845, 38.5, -6),
        (-10.392304845, 35, 6),
        (-9.41071131, 35, 11.680689733),
        (-3.651246872, 35, 11.431027788),
        (-5.646426786, 35, 7.00841384),
        (-7.794228634, 36.75, 4.5),
        (-2.738435154, 36.75, 8.573270841),
        (-5.646426786, 38.5, 7.00841384),
        (-10.392304845, 38.5, 6),
        (-9.41071131, 38.5, 11.680689733),
        (-3.651246872, 38.5, 11.431027788),
        (-10.392304845, 35, -6),
        (-5.646426786, 35, -7.00841384),
        (-3.651246872, 35, -11.431027788),
        (-9.41071131, 35, -11.680689733),
        (-12.990381057, 36.75, -7.5),
        (-4.56405859, 36.75, -14.288784735),
        (-2.738435154, 36.75, -8.573270841),
        (-7.794228634, 36.75, -4.5),
        (-9.41071131, 38.5, -11.680689733),
        (-10.392304845, 38.5, -6),
        (-5.646426786, 38.5, -7.00841384),
        (-3.651246872, 38.5, -11.431027788),
        (10.392304845, 35, 6),
        (5.646426786, 35, 7.00841384),
        (3.651246872, 35, 11.431027788),
        (9.41071131, 35, 11.680689733),
    ]]
    fillet(fillet1_edges, radius=FILLET1_R)

    # Chamfer1
    chamfer1_edges = [part.edges().sort_by_distance(p)[0] for p in [
        (-12.295832627, 38.5, -3.75),
        (-12.295832627, 38.5, 0.75),
        (12.295832627, 38.5, -3.75),
        (12.295832627, 38.5, 0.75),
    ]]
    chamfer(chamfer1_edges, length=CHAMFER1_SIZE)

    # Fillet2
    fillet2_edges = [part.edges().sort_by_distance(p)[0] for p in [
        (0, 42.5, -5.1),
    ]]
    fillet(fillet2_edges, radius=FILLET2_R)

    # Sketch8 → Extrude8 (cut)
    with BuildSketch(Plane(origin=(0, 42.5, 0), x_dir=(1, 0, 0), z_dir=(0, 1, 0))):
        with Locations(Location((0, 0, 0), (0, 0, 270))):
            Circle(SKETCH8_R)
        with Locations(Location((0, 0, 0), (0, 0, 129.194967426))):
            Circle(SKETCH8_R_2, mode=Mode.SUBTRACT)
    extrude(amount=-EXTRUDE8_DEPTH, mode=Mode.SUBTRACT)

    # Fillet3
    fillet3_edges = [part.edges().sort_by_distance(p)[0] for p in [
        (0, 38.5, -18),
    ]]
    fillet(fillet3_edges, radius=FILLET3_R)

    # Sketch9 → Extrude11 (add)
    with BuildSketch(Plane.XZ):
        with Locations(Location((0, 0, 0), (0, 0, 90))):
            Circle(SKETCH9_R)
    extrude(amount=EXTRUDE11_DEPTH)

    # Sketch10 outside → Extrude12 (cut)
    with BuildSketch(Plane.XZ.offset(15)):
        Rectangle(SKETCH10_OUTSIDE_W, SKETCH10_OUTSIDE_H)
        Rectangle(SKETCH10_OUTSIDE_W_2, SKETCH10_OUTSIDE_H_2, mode=Mode.SUBTRACT)
    extrude(amount=-EXTRUDE12_DEPTH, mode=Mode.SUBTRACT)

    # Sketch11 outside → Extrude13 (cut)
    with BuildSketch(Plane.XZ.offset(15)):
        Rectangle(SKETCH11_OUTSIDE_W, SKETCH11_OUTSIDE_H)
        Rectangle(SKETCH11_OUTSIDE_W_2, SKETCH11_OUTSIDE_H_2, mode=Mode.SUBTRACT)
    extrude(amount=-EXTRUDE13_DEPTH, mode=Mode.SUBTRACT)

    # Chamfer2: one chamfer whose edges measure the first distance from different faces: ONE call of the kernel's chamfer builder (chamfer() names one face for all edges)
    chamfer2_edges_1 = [part.edges().sort_by_distance(p)[0] for p in [
        (10.4, -15, 0),
    ]]
    chamfer2_side_1 = [part.faces().sort_by_distance(p)[0] for p in [
        (10.4, -9, 0),
    ]]
    chamfer2_edges_2 = [part.edges().sort_by_distance(p)[0] for p in [
        (-10.4, -15, 0),
    ]]
    chamfer2_side_2 = [part.faces().sort_by_distance(p)[0] for p in [
        (-10.4, -9, 0),
    ]]
    chamfer2 = BRepFilletAPI_MakeChamfer(part.part.solid().wrapped)
    for e in chamfer2_edges_1:
        chamfer2.Add(CHAMFER2_SIZE, CHAMFER2_SIZE2, e.wrapped, chamfer2_side_1[0].wrapped)  # the first distance lies on this face
    for e in chamfer2_edges_2:
        chamfer2.Add(CHAMFER2_SIZE, CHAMFER2_SIZE2, e.wrapped, chamfer2_side_2[0].wrapped)  # the first distance lies on this face
    add(Compound.cast(chamfer2.Shape()), mode=Mode.REPLACE)

    # Sketch12 outside → Extrude15 (cut)
    with BuildSketch(Plane.XZ.offset(15)):
        Rectangle(SKETCH12_OUTSIDE_W, SKETCH12_OUTSIDE_H)
        with Locations(Location((0, 0, 0), (0, 0, 270))):
            Circle(SKETCH12_OUTSIDE_R, mode=Mode.SUBTRACT)
    extrude(amount=-EXTRUDE15_DEPTH, mode=Mode.SUBTRACT)

    # Sketch13 → Extrude16 (cut)
    with BuildSketch(Plane.XZ.offset(15)):
        with Locations(Location((0, 0, 0), (0, 0, 90))):
            Circle(SKETCH13_R)
        with Locations(Location((0, 0, 0), (0, 0, 230.805032574))):
            Circle(SKETCH13_R_2, mode=Mode.SUBTRACT)
    extrude(amount=-EXTRUDE16_DEPTH, mode=Mode.SUBTRACT)


solid = part.part
